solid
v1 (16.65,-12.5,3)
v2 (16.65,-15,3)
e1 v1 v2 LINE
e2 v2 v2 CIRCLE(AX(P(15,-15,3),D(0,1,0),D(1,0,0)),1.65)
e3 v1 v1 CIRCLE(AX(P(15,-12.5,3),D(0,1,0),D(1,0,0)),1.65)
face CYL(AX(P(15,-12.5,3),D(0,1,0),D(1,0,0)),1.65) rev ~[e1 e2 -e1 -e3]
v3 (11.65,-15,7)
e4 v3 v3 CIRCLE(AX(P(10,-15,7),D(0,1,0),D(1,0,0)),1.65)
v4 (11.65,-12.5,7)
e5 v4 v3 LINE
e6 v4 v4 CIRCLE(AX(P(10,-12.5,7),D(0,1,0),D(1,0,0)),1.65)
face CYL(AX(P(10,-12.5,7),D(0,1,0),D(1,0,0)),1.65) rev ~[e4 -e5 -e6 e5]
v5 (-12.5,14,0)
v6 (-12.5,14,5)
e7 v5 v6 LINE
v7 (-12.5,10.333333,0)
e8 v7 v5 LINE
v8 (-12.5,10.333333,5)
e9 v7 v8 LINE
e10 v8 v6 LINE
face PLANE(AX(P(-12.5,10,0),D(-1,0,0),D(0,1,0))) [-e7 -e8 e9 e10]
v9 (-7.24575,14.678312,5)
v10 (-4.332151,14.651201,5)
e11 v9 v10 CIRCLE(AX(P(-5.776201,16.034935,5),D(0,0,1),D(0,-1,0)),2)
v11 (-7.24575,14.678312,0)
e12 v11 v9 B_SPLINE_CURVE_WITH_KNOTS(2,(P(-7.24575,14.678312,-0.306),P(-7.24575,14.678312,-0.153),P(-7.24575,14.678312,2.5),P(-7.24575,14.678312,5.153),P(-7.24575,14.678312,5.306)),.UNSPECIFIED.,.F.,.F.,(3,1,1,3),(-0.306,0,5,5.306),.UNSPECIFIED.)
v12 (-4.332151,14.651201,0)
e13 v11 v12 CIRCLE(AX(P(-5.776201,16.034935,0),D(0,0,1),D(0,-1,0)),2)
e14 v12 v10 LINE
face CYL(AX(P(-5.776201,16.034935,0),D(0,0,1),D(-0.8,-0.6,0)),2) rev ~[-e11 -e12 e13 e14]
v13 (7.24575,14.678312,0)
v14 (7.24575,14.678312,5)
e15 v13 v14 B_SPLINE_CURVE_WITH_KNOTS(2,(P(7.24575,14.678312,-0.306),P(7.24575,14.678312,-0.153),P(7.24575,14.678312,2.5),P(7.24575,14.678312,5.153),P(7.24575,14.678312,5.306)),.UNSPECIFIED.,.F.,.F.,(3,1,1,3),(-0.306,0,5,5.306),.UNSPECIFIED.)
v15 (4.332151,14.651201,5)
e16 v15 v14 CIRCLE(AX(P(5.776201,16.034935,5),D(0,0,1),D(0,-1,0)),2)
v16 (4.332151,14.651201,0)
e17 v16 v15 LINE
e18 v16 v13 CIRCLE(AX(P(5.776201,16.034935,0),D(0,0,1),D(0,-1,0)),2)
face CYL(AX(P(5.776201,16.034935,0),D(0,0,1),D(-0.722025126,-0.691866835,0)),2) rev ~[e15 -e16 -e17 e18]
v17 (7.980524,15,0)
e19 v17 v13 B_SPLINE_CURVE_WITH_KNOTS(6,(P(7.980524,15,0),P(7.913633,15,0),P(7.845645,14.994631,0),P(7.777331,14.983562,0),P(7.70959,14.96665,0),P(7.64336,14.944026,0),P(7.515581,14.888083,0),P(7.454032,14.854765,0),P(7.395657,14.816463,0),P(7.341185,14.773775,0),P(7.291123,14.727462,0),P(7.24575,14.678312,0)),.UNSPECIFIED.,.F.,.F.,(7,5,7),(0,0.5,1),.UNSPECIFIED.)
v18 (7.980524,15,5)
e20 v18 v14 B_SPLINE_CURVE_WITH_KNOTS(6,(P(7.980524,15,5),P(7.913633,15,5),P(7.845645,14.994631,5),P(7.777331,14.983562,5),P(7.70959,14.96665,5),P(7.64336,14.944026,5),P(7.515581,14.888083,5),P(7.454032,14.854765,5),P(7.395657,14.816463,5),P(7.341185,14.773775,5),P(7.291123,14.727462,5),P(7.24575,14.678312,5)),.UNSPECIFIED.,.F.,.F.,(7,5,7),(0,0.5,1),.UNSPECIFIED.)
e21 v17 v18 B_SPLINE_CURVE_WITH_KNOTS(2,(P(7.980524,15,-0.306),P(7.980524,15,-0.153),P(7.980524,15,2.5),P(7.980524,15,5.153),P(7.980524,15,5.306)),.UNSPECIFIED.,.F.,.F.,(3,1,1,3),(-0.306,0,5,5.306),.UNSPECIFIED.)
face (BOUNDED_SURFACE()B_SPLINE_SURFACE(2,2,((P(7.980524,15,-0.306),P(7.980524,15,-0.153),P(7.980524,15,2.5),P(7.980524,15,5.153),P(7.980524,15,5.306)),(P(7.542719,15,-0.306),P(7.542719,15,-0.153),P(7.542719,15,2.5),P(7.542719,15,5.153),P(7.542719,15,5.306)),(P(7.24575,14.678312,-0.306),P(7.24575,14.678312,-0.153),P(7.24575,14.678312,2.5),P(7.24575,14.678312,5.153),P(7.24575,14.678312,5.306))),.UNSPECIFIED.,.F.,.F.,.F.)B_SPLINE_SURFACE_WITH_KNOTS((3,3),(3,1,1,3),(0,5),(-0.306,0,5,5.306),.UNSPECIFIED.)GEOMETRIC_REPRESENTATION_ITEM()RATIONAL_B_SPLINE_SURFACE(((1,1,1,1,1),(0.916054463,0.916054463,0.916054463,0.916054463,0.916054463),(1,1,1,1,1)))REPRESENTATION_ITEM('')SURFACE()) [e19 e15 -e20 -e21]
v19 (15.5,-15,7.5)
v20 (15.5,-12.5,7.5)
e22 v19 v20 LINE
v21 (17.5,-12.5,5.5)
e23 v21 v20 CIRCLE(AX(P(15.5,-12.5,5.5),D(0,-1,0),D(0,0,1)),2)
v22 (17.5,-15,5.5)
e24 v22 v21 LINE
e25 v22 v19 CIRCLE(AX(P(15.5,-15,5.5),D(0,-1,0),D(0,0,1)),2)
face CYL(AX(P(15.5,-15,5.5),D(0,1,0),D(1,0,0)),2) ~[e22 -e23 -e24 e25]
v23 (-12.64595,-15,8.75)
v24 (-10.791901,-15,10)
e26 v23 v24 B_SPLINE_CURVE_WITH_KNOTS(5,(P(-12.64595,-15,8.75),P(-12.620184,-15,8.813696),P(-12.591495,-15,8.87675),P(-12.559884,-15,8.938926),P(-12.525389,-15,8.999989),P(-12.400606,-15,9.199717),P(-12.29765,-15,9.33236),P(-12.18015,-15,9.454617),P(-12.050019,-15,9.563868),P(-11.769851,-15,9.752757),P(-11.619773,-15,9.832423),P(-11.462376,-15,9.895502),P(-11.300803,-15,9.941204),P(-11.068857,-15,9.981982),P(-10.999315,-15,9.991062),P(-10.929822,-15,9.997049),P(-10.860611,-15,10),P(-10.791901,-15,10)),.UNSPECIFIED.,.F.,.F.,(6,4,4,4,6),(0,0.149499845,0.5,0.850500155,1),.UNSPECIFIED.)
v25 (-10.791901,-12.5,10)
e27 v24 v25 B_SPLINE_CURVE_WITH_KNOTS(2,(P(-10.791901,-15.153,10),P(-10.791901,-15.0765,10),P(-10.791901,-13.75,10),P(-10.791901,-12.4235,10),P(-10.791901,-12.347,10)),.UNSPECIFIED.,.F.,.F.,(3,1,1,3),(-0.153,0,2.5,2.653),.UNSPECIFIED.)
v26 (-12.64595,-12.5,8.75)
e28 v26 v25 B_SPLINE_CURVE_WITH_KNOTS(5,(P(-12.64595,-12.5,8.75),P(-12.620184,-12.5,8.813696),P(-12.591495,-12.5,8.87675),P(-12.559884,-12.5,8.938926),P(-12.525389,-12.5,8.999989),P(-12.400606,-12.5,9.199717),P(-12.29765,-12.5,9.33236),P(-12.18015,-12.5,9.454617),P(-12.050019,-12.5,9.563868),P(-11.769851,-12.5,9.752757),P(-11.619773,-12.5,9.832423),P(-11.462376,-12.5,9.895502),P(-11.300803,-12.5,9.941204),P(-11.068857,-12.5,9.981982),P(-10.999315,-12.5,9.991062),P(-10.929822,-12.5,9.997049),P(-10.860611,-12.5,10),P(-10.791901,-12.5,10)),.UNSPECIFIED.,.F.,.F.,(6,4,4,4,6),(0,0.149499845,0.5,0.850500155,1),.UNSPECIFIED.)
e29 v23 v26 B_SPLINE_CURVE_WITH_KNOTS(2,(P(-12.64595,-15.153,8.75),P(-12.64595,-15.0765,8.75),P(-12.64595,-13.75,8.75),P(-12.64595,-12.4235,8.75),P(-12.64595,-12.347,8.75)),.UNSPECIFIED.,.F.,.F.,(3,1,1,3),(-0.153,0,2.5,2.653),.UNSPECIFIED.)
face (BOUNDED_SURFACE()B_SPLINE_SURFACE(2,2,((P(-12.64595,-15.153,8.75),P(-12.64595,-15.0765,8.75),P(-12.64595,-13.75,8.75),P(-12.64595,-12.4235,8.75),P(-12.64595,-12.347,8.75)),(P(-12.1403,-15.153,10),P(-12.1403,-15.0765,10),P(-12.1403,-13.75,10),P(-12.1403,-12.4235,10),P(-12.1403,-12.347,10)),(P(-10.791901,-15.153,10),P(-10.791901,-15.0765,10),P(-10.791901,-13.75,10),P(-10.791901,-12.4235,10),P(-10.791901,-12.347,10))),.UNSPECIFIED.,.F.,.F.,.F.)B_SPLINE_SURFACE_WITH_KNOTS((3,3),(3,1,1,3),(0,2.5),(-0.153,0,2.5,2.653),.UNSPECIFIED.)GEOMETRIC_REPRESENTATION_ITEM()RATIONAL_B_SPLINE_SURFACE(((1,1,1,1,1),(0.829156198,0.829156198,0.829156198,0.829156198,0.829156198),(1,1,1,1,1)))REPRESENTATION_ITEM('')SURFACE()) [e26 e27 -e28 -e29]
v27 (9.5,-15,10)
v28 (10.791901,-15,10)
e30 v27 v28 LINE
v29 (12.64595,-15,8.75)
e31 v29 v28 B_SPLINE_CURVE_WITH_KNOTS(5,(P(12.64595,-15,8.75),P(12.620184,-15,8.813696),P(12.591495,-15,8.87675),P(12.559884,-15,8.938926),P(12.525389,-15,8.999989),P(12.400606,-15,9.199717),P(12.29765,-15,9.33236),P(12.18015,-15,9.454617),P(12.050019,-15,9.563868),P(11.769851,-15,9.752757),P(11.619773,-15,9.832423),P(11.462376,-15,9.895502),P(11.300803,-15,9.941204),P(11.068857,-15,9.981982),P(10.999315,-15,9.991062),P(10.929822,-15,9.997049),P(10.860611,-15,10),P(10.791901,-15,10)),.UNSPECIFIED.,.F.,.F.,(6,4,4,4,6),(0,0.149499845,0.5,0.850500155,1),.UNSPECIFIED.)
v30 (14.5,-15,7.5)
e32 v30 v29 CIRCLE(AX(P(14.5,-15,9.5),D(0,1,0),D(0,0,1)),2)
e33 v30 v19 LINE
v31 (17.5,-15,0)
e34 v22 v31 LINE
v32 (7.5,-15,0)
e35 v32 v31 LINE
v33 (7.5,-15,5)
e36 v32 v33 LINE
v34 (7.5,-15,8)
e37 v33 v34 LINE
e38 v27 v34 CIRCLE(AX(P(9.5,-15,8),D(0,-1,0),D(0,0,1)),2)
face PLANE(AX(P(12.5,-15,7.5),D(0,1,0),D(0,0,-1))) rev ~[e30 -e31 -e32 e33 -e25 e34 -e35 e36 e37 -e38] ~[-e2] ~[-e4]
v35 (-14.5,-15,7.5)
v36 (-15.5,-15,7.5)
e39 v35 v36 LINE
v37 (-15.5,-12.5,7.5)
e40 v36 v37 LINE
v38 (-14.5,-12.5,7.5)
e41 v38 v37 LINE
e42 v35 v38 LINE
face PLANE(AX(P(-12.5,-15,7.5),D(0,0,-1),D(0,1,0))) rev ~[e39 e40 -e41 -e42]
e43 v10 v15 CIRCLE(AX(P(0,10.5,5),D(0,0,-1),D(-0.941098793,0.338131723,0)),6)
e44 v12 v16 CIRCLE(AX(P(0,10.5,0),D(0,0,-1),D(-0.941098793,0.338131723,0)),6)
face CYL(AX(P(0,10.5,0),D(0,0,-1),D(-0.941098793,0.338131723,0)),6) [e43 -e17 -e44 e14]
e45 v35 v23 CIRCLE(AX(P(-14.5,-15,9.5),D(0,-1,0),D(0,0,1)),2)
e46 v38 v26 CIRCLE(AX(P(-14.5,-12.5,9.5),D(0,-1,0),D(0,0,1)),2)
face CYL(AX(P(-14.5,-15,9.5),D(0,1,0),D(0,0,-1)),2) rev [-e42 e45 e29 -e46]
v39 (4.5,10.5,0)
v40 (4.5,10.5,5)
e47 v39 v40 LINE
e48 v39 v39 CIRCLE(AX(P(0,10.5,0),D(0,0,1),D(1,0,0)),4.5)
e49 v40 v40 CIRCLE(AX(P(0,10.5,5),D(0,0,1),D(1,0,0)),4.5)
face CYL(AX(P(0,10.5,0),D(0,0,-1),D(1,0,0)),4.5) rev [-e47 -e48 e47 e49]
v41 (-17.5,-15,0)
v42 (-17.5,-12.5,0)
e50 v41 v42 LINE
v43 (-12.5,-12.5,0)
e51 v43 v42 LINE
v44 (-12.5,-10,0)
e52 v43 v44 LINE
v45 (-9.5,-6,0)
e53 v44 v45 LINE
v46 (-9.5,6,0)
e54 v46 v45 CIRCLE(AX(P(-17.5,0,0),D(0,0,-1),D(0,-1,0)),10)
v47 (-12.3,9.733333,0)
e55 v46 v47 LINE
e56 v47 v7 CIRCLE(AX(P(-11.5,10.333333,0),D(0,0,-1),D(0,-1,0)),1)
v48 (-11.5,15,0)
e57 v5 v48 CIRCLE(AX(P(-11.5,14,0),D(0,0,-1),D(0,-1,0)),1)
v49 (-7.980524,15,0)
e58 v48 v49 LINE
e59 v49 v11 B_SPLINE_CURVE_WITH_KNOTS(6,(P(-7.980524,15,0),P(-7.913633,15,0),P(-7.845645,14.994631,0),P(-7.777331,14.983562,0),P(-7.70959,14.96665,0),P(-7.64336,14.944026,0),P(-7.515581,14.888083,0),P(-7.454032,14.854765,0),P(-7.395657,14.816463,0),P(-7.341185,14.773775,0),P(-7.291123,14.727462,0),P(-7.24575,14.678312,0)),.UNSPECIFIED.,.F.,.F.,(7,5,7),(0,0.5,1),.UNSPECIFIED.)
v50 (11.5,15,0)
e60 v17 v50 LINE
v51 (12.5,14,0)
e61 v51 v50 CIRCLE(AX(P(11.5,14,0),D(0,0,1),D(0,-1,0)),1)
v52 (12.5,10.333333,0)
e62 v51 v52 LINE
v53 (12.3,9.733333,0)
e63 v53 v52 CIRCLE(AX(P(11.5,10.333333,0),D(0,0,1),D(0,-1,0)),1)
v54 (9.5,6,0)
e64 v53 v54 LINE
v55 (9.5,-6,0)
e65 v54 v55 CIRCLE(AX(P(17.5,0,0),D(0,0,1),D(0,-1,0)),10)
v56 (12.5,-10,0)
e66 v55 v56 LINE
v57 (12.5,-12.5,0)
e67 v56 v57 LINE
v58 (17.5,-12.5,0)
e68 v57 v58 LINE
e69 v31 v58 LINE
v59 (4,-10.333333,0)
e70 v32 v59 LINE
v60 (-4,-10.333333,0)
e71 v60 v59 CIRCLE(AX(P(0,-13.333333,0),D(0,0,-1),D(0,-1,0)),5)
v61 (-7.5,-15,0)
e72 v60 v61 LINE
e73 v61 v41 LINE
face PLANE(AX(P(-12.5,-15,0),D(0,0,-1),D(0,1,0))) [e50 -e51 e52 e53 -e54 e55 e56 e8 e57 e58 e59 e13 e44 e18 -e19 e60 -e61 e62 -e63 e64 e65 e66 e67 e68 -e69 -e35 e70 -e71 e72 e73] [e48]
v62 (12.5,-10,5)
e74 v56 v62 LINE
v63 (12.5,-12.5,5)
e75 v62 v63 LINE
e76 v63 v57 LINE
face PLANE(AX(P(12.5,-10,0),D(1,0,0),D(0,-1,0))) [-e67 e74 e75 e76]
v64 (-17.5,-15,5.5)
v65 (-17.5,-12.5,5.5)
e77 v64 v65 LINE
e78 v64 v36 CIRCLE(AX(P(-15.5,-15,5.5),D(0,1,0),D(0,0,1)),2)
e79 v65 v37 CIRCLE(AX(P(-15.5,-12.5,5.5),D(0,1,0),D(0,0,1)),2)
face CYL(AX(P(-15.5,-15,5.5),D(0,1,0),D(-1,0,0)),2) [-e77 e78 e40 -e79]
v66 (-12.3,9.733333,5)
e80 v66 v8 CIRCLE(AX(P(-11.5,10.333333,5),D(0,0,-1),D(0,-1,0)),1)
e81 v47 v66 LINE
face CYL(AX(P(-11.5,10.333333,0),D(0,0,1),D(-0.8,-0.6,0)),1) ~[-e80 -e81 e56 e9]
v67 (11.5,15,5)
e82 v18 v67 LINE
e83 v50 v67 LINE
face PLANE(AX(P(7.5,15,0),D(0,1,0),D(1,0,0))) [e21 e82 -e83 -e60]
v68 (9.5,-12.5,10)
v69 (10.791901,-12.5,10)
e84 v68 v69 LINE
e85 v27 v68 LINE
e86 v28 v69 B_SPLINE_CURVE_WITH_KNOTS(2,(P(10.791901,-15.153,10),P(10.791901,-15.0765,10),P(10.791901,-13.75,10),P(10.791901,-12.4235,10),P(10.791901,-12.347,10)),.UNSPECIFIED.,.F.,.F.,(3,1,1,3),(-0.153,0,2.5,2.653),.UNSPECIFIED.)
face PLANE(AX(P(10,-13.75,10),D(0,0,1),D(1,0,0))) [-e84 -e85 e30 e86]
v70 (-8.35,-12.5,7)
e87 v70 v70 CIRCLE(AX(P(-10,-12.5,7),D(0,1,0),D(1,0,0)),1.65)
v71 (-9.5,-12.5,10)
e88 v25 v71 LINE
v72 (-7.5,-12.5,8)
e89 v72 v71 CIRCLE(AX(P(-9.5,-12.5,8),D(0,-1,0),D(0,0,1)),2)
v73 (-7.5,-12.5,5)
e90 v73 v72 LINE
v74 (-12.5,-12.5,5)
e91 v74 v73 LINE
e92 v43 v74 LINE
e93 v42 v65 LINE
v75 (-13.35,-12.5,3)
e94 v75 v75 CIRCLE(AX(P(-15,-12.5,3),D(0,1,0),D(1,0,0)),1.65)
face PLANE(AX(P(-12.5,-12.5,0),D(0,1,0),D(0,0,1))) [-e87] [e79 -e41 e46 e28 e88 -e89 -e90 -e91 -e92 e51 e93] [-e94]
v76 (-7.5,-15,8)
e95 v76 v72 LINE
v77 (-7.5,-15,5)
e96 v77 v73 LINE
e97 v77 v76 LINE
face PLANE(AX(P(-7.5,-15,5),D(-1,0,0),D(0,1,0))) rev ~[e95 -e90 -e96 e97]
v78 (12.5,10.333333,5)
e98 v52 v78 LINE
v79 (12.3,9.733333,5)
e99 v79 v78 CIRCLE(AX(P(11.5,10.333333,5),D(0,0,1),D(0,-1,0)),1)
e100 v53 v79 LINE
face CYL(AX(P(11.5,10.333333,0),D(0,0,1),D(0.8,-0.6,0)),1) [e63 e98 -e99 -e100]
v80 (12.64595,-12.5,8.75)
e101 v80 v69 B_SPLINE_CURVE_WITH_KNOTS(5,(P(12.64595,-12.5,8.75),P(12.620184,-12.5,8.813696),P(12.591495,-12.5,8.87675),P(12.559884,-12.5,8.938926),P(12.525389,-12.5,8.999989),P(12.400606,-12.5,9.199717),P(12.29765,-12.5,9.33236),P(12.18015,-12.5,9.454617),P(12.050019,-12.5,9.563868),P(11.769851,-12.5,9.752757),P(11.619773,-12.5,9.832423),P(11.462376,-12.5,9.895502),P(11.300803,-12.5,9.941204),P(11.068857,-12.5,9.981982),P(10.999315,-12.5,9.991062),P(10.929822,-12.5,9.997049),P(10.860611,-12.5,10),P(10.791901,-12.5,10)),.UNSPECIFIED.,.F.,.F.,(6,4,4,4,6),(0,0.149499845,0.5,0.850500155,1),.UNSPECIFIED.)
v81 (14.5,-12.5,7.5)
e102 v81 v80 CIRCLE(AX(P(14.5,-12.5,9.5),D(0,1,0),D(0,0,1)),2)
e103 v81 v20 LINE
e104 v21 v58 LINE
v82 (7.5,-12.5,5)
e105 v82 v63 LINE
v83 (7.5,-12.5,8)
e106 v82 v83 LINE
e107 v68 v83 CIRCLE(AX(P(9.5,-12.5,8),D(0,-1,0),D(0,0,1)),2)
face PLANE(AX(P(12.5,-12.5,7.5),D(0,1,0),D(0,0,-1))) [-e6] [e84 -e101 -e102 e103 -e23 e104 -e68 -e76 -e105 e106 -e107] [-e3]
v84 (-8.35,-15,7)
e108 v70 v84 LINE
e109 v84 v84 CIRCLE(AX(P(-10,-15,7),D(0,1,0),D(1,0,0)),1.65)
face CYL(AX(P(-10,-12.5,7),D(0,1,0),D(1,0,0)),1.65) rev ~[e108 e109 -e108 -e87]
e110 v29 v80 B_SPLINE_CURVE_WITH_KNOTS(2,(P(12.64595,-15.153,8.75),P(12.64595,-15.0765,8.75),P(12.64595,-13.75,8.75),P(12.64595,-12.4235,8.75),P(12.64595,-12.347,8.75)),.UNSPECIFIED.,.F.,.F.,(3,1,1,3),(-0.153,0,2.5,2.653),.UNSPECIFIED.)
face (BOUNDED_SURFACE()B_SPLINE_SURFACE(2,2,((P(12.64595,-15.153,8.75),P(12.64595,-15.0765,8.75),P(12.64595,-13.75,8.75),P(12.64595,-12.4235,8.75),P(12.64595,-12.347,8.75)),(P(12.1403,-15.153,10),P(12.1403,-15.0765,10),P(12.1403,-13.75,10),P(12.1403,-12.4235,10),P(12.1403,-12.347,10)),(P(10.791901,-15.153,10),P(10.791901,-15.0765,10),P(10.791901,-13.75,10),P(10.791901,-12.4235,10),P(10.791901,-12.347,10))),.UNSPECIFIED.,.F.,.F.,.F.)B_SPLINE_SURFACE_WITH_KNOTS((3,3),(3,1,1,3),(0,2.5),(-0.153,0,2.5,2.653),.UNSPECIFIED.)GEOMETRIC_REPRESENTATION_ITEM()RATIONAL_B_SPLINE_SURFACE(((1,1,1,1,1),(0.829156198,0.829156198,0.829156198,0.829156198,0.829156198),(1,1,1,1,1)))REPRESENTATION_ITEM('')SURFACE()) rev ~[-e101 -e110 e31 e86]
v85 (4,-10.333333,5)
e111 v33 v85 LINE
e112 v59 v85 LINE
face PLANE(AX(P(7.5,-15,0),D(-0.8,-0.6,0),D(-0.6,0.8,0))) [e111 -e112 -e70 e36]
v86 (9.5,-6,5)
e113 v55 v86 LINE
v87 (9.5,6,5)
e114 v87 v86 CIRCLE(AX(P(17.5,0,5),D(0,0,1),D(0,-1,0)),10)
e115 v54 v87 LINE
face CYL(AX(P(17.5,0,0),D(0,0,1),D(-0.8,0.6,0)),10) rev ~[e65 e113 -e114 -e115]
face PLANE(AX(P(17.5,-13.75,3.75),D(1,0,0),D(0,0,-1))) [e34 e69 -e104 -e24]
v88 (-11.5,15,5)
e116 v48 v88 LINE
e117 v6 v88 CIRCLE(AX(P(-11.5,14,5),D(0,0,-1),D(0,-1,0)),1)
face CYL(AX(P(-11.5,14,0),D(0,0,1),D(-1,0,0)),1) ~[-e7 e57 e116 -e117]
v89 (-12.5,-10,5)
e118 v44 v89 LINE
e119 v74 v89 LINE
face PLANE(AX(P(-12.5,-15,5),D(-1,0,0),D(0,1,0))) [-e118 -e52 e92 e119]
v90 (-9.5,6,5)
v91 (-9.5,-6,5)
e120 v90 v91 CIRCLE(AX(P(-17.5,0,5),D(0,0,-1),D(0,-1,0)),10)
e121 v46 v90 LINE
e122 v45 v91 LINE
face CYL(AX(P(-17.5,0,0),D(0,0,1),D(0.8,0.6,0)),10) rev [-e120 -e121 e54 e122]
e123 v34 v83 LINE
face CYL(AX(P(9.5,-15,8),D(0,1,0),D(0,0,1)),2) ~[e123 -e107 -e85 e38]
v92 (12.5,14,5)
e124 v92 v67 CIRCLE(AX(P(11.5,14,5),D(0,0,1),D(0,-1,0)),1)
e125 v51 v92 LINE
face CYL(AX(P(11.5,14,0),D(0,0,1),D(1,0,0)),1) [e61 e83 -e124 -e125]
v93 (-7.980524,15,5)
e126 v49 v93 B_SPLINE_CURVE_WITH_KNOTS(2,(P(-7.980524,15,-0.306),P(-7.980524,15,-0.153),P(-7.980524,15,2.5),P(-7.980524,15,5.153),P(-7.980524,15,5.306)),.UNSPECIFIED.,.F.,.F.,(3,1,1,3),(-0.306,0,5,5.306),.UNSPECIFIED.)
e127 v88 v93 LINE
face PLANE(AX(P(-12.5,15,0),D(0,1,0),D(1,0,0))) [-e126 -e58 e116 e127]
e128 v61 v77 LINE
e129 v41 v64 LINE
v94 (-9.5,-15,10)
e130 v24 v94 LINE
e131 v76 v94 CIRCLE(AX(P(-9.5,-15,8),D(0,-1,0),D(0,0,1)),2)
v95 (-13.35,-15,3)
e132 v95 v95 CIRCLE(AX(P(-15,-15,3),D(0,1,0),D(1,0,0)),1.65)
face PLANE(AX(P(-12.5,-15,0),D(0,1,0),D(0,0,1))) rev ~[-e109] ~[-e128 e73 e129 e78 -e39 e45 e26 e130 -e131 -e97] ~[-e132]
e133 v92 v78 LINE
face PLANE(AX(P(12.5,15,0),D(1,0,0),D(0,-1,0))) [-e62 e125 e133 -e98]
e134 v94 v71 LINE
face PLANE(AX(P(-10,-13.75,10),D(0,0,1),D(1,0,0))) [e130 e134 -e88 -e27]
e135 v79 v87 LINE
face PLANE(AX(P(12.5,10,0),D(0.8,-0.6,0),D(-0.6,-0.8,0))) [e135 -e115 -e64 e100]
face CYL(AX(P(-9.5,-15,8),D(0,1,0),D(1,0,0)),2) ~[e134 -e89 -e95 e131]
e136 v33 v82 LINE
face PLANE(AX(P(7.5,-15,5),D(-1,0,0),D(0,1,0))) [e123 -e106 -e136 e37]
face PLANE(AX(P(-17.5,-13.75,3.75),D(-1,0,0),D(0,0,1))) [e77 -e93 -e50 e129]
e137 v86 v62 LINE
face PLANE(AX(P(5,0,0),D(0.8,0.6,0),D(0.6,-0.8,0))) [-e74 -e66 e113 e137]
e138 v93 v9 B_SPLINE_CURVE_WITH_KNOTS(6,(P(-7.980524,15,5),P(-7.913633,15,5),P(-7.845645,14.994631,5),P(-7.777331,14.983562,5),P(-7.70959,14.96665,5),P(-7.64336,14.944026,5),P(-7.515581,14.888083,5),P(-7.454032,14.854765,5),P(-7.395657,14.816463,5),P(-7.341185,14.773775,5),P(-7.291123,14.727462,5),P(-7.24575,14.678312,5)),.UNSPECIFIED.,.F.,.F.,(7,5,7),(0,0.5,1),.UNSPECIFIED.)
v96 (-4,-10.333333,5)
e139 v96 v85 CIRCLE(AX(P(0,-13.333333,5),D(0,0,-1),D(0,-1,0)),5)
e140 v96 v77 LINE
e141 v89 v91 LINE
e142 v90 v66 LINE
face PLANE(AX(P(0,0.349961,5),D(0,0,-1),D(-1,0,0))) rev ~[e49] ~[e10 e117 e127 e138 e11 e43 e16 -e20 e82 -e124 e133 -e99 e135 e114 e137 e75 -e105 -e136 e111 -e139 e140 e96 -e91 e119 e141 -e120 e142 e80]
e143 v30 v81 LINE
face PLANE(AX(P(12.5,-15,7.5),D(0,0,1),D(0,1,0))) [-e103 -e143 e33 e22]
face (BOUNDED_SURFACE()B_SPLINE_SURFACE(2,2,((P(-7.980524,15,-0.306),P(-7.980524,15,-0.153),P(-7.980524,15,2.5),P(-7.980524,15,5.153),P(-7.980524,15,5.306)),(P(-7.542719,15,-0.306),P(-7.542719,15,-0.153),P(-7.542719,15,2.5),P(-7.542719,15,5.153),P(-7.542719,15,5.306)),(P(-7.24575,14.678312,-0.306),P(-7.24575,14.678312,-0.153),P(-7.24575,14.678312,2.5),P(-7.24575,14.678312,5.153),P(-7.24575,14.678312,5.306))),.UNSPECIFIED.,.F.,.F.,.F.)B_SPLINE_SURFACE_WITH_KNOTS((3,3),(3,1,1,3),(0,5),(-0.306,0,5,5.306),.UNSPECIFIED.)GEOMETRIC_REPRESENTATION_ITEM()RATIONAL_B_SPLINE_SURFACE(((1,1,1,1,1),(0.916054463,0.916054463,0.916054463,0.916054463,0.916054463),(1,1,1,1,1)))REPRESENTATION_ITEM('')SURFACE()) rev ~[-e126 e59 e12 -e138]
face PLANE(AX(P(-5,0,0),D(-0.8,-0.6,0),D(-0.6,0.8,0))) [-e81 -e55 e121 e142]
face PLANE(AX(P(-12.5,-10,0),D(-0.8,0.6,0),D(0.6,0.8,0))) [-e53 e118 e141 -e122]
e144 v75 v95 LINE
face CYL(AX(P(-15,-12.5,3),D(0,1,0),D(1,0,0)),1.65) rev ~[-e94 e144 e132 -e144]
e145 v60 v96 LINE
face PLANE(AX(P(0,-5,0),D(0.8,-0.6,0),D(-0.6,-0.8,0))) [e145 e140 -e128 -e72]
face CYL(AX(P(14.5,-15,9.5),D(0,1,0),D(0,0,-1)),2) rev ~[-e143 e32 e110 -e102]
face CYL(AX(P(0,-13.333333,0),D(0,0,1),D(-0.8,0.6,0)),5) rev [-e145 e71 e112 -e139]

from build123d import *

# Parameters (mm, degrees)
SKETCH1_R           = 4.5
BOSS_EXTRUDE1_DEPTH = 5
SKETCH2_W           = 5
SKETCH2_H           = 2.5
BOSS_EXTRUDE2_DEPTH = 5
SKETCH3_W           = 7.5
SKETCH3_H           = 2.5
BOSS_EXTRUDE3_DEPTH = 5
SKETCH4_W           = 7.5
SKETCH4_H           = 2.5
BOSS_EXTRUDE4_DEPTH = 5
SKETCH5_R           = 1.65
CUT_EXTRUDE1_DEPTH  = 5
FILLET1_R           = 2
FILLET2_R           = 2
FILLET3_R           = 2
FILLET4_R           = 10
FILLET5_R           = 5
FILLET6_R           = 1


with BuildPart() as part:
    # Sketch1 → Boss-Extrude1 (new body)
    with BuildSketch(Plane.XY):
        with BuildLine():
            Line((-7.5, 15), (-5.646592756, 12.528790341))
            ThreePointArc((-5.646592756, 12.528790341), (0, 16.5), (5.646592756, 12.528790341))
            Line((5.646592756, 12.528790341), (7.5, 15))
            Line((7.5, 15), (12.5, 15))
            Line((12.5, 15), (12.5, 10))
            Line((12.5, 10), (5, 0))
            Line((5, 0), (12.5, -10))
            Line((12.5, -10), (12.5, -15))
            Line((12.5, -15), (7.5, -15))
            Line((7.5, -15), (0, -5))
            Line((0, -5), (-7.5, -15))
            Line((-7.5, -15), (-12.5, -15))
            Line((-12.5, -15), (-12.5, -10))
            Line((-12.5, -10), (-5, 0))
            Line((-5, 0), (-12.5, 10))
            Line((-12.5, 10), (-12.5, 15))
            Line((-12.5, 15), (-7.5, 15))
        make_face()
        with Locations((0, 10.5)):
            Circle(SKETCH1_R, mode=Mode.SUBTRACT)
    extrude(amount=BOSS_EXTRUDE1_DEPTH)

    # Sketch2 → Boss-Extrude2 (add)
    with BuildSketch(Plane.XY.offset(5)):
        with Locations((-10, -13.75)):
            Rectangle(SKETCH2_W, SKETCH2_H)
        with Locations((10, -13.75)):
            Rectangle(SKETCH2_W, SKETCH2_H)
    extrude(amount=BOSS_EXTRUDE2_DEPTH)

    # Sketch3 → Boss-Extrude3 (add)
    with BuildSketch(Plane(origin=(12.5, 0, 0), x_dir=(0, 0, -1), z_dir=(1, 0, 0))):
        with Locations((-3.75, -13.75)):
            Rectangle(SKETCH3_W, SKETCH3_H)
    extrude(amount=BOSS_EXTRUDE3_DEPTH)

    # Sketch4 → Boss-Extrude4 (add)
    with BuildSketch(Plane.ZY.offset(12.5)):
        with Locations((3.75, -13.75)):
            Rectangle(SKETCH4_W, SKETCH4_H)
    extrude(amount=BOSS_EXTRUDE4_DEPTH)

    # Sketch5 → Cut-Extrude1 (cut)
    with BuildSketch(Plane(origin=(0, -12.5, 0), x_dir=(1, 0, 0), z_dir=(0, 1, 0))):
        with Locations((-15, -3)):
            Circle(SKETCH5_R)
        with Locations((15, -3)):
            Circle(SKETCH5_R)
        with Locations((-10, -7)):
            Circle(SKETCH5_R)
        with Locations((10, -7)):
            Circle(SKETCH5_R)
    extrude(amount=-CUT_EXTRUDE1_DEPTH, mode=Mode.SUBTRACT)

    # Fillet1
    fillet1_edges = [part.edges().sort_by_distance(p)[0] for p in [
        (12.5, -13.75, 7.5),
        (17.5, -13.75, 7.5),
        (-12.5, -13.75, 7.5),
        (-17.5, -13.75, 7.5),
    ]]
    fillet(fillet1_edges, radius=FILLET1_R)

    # Fillet2
    fillet2_edges = [part.edges().sort_by_distance(p)[0] for p in [
        (12.5, -13.75, 10),
        (7.5, -13.75, 10),
        (-7.5, -13.75, 10),
        (-12.5, -13.75, 10),
    ]]
    fillet(fillet2_edges, radius=FILLET2_R)

    # Fillet3
    fillet3_edges = [part.edges().sort_by_distance(p)[0] for p in [
        (-5.646592756, 12.528790341, 2.5),
        (5.646592756, 12.528790341, 2.5),
    ]]
    fillet(fillet3_edges, radius=FILLET3_R)

    # Fillet4
    fillet4_edges = [part.edges().sort_by_distance(p)[0] for p in [
        (5, 0, 2.5),
        (-5, 0, 2.5),
    ]]
    fillet(fillet4_edges, radius=FILLET4_R)

    # Fillet5
    fillet5_edges = [part.edges().sort_by_distance(p)[0] for p in [
        (0, -5, 2.5),
    ]]
    fillet(fillet5_edges, radius=FILLET5_R)

    # Fillet6
    fillet6_edges = [part.edges().sort_by_distance(p)[0] for p in [
        (-12.5, 10, 2.5),
        (-12.5, 15, 2.5),
        (-7.5, 15, 2.5),
        (12.5, 10, 2.5),
        (7.5, 15, 2.5),
        (12.5, 15, 2.5),
    ]]
    fillet(fillet6_edges, radius=FILLET6_R)


solid = part.part
